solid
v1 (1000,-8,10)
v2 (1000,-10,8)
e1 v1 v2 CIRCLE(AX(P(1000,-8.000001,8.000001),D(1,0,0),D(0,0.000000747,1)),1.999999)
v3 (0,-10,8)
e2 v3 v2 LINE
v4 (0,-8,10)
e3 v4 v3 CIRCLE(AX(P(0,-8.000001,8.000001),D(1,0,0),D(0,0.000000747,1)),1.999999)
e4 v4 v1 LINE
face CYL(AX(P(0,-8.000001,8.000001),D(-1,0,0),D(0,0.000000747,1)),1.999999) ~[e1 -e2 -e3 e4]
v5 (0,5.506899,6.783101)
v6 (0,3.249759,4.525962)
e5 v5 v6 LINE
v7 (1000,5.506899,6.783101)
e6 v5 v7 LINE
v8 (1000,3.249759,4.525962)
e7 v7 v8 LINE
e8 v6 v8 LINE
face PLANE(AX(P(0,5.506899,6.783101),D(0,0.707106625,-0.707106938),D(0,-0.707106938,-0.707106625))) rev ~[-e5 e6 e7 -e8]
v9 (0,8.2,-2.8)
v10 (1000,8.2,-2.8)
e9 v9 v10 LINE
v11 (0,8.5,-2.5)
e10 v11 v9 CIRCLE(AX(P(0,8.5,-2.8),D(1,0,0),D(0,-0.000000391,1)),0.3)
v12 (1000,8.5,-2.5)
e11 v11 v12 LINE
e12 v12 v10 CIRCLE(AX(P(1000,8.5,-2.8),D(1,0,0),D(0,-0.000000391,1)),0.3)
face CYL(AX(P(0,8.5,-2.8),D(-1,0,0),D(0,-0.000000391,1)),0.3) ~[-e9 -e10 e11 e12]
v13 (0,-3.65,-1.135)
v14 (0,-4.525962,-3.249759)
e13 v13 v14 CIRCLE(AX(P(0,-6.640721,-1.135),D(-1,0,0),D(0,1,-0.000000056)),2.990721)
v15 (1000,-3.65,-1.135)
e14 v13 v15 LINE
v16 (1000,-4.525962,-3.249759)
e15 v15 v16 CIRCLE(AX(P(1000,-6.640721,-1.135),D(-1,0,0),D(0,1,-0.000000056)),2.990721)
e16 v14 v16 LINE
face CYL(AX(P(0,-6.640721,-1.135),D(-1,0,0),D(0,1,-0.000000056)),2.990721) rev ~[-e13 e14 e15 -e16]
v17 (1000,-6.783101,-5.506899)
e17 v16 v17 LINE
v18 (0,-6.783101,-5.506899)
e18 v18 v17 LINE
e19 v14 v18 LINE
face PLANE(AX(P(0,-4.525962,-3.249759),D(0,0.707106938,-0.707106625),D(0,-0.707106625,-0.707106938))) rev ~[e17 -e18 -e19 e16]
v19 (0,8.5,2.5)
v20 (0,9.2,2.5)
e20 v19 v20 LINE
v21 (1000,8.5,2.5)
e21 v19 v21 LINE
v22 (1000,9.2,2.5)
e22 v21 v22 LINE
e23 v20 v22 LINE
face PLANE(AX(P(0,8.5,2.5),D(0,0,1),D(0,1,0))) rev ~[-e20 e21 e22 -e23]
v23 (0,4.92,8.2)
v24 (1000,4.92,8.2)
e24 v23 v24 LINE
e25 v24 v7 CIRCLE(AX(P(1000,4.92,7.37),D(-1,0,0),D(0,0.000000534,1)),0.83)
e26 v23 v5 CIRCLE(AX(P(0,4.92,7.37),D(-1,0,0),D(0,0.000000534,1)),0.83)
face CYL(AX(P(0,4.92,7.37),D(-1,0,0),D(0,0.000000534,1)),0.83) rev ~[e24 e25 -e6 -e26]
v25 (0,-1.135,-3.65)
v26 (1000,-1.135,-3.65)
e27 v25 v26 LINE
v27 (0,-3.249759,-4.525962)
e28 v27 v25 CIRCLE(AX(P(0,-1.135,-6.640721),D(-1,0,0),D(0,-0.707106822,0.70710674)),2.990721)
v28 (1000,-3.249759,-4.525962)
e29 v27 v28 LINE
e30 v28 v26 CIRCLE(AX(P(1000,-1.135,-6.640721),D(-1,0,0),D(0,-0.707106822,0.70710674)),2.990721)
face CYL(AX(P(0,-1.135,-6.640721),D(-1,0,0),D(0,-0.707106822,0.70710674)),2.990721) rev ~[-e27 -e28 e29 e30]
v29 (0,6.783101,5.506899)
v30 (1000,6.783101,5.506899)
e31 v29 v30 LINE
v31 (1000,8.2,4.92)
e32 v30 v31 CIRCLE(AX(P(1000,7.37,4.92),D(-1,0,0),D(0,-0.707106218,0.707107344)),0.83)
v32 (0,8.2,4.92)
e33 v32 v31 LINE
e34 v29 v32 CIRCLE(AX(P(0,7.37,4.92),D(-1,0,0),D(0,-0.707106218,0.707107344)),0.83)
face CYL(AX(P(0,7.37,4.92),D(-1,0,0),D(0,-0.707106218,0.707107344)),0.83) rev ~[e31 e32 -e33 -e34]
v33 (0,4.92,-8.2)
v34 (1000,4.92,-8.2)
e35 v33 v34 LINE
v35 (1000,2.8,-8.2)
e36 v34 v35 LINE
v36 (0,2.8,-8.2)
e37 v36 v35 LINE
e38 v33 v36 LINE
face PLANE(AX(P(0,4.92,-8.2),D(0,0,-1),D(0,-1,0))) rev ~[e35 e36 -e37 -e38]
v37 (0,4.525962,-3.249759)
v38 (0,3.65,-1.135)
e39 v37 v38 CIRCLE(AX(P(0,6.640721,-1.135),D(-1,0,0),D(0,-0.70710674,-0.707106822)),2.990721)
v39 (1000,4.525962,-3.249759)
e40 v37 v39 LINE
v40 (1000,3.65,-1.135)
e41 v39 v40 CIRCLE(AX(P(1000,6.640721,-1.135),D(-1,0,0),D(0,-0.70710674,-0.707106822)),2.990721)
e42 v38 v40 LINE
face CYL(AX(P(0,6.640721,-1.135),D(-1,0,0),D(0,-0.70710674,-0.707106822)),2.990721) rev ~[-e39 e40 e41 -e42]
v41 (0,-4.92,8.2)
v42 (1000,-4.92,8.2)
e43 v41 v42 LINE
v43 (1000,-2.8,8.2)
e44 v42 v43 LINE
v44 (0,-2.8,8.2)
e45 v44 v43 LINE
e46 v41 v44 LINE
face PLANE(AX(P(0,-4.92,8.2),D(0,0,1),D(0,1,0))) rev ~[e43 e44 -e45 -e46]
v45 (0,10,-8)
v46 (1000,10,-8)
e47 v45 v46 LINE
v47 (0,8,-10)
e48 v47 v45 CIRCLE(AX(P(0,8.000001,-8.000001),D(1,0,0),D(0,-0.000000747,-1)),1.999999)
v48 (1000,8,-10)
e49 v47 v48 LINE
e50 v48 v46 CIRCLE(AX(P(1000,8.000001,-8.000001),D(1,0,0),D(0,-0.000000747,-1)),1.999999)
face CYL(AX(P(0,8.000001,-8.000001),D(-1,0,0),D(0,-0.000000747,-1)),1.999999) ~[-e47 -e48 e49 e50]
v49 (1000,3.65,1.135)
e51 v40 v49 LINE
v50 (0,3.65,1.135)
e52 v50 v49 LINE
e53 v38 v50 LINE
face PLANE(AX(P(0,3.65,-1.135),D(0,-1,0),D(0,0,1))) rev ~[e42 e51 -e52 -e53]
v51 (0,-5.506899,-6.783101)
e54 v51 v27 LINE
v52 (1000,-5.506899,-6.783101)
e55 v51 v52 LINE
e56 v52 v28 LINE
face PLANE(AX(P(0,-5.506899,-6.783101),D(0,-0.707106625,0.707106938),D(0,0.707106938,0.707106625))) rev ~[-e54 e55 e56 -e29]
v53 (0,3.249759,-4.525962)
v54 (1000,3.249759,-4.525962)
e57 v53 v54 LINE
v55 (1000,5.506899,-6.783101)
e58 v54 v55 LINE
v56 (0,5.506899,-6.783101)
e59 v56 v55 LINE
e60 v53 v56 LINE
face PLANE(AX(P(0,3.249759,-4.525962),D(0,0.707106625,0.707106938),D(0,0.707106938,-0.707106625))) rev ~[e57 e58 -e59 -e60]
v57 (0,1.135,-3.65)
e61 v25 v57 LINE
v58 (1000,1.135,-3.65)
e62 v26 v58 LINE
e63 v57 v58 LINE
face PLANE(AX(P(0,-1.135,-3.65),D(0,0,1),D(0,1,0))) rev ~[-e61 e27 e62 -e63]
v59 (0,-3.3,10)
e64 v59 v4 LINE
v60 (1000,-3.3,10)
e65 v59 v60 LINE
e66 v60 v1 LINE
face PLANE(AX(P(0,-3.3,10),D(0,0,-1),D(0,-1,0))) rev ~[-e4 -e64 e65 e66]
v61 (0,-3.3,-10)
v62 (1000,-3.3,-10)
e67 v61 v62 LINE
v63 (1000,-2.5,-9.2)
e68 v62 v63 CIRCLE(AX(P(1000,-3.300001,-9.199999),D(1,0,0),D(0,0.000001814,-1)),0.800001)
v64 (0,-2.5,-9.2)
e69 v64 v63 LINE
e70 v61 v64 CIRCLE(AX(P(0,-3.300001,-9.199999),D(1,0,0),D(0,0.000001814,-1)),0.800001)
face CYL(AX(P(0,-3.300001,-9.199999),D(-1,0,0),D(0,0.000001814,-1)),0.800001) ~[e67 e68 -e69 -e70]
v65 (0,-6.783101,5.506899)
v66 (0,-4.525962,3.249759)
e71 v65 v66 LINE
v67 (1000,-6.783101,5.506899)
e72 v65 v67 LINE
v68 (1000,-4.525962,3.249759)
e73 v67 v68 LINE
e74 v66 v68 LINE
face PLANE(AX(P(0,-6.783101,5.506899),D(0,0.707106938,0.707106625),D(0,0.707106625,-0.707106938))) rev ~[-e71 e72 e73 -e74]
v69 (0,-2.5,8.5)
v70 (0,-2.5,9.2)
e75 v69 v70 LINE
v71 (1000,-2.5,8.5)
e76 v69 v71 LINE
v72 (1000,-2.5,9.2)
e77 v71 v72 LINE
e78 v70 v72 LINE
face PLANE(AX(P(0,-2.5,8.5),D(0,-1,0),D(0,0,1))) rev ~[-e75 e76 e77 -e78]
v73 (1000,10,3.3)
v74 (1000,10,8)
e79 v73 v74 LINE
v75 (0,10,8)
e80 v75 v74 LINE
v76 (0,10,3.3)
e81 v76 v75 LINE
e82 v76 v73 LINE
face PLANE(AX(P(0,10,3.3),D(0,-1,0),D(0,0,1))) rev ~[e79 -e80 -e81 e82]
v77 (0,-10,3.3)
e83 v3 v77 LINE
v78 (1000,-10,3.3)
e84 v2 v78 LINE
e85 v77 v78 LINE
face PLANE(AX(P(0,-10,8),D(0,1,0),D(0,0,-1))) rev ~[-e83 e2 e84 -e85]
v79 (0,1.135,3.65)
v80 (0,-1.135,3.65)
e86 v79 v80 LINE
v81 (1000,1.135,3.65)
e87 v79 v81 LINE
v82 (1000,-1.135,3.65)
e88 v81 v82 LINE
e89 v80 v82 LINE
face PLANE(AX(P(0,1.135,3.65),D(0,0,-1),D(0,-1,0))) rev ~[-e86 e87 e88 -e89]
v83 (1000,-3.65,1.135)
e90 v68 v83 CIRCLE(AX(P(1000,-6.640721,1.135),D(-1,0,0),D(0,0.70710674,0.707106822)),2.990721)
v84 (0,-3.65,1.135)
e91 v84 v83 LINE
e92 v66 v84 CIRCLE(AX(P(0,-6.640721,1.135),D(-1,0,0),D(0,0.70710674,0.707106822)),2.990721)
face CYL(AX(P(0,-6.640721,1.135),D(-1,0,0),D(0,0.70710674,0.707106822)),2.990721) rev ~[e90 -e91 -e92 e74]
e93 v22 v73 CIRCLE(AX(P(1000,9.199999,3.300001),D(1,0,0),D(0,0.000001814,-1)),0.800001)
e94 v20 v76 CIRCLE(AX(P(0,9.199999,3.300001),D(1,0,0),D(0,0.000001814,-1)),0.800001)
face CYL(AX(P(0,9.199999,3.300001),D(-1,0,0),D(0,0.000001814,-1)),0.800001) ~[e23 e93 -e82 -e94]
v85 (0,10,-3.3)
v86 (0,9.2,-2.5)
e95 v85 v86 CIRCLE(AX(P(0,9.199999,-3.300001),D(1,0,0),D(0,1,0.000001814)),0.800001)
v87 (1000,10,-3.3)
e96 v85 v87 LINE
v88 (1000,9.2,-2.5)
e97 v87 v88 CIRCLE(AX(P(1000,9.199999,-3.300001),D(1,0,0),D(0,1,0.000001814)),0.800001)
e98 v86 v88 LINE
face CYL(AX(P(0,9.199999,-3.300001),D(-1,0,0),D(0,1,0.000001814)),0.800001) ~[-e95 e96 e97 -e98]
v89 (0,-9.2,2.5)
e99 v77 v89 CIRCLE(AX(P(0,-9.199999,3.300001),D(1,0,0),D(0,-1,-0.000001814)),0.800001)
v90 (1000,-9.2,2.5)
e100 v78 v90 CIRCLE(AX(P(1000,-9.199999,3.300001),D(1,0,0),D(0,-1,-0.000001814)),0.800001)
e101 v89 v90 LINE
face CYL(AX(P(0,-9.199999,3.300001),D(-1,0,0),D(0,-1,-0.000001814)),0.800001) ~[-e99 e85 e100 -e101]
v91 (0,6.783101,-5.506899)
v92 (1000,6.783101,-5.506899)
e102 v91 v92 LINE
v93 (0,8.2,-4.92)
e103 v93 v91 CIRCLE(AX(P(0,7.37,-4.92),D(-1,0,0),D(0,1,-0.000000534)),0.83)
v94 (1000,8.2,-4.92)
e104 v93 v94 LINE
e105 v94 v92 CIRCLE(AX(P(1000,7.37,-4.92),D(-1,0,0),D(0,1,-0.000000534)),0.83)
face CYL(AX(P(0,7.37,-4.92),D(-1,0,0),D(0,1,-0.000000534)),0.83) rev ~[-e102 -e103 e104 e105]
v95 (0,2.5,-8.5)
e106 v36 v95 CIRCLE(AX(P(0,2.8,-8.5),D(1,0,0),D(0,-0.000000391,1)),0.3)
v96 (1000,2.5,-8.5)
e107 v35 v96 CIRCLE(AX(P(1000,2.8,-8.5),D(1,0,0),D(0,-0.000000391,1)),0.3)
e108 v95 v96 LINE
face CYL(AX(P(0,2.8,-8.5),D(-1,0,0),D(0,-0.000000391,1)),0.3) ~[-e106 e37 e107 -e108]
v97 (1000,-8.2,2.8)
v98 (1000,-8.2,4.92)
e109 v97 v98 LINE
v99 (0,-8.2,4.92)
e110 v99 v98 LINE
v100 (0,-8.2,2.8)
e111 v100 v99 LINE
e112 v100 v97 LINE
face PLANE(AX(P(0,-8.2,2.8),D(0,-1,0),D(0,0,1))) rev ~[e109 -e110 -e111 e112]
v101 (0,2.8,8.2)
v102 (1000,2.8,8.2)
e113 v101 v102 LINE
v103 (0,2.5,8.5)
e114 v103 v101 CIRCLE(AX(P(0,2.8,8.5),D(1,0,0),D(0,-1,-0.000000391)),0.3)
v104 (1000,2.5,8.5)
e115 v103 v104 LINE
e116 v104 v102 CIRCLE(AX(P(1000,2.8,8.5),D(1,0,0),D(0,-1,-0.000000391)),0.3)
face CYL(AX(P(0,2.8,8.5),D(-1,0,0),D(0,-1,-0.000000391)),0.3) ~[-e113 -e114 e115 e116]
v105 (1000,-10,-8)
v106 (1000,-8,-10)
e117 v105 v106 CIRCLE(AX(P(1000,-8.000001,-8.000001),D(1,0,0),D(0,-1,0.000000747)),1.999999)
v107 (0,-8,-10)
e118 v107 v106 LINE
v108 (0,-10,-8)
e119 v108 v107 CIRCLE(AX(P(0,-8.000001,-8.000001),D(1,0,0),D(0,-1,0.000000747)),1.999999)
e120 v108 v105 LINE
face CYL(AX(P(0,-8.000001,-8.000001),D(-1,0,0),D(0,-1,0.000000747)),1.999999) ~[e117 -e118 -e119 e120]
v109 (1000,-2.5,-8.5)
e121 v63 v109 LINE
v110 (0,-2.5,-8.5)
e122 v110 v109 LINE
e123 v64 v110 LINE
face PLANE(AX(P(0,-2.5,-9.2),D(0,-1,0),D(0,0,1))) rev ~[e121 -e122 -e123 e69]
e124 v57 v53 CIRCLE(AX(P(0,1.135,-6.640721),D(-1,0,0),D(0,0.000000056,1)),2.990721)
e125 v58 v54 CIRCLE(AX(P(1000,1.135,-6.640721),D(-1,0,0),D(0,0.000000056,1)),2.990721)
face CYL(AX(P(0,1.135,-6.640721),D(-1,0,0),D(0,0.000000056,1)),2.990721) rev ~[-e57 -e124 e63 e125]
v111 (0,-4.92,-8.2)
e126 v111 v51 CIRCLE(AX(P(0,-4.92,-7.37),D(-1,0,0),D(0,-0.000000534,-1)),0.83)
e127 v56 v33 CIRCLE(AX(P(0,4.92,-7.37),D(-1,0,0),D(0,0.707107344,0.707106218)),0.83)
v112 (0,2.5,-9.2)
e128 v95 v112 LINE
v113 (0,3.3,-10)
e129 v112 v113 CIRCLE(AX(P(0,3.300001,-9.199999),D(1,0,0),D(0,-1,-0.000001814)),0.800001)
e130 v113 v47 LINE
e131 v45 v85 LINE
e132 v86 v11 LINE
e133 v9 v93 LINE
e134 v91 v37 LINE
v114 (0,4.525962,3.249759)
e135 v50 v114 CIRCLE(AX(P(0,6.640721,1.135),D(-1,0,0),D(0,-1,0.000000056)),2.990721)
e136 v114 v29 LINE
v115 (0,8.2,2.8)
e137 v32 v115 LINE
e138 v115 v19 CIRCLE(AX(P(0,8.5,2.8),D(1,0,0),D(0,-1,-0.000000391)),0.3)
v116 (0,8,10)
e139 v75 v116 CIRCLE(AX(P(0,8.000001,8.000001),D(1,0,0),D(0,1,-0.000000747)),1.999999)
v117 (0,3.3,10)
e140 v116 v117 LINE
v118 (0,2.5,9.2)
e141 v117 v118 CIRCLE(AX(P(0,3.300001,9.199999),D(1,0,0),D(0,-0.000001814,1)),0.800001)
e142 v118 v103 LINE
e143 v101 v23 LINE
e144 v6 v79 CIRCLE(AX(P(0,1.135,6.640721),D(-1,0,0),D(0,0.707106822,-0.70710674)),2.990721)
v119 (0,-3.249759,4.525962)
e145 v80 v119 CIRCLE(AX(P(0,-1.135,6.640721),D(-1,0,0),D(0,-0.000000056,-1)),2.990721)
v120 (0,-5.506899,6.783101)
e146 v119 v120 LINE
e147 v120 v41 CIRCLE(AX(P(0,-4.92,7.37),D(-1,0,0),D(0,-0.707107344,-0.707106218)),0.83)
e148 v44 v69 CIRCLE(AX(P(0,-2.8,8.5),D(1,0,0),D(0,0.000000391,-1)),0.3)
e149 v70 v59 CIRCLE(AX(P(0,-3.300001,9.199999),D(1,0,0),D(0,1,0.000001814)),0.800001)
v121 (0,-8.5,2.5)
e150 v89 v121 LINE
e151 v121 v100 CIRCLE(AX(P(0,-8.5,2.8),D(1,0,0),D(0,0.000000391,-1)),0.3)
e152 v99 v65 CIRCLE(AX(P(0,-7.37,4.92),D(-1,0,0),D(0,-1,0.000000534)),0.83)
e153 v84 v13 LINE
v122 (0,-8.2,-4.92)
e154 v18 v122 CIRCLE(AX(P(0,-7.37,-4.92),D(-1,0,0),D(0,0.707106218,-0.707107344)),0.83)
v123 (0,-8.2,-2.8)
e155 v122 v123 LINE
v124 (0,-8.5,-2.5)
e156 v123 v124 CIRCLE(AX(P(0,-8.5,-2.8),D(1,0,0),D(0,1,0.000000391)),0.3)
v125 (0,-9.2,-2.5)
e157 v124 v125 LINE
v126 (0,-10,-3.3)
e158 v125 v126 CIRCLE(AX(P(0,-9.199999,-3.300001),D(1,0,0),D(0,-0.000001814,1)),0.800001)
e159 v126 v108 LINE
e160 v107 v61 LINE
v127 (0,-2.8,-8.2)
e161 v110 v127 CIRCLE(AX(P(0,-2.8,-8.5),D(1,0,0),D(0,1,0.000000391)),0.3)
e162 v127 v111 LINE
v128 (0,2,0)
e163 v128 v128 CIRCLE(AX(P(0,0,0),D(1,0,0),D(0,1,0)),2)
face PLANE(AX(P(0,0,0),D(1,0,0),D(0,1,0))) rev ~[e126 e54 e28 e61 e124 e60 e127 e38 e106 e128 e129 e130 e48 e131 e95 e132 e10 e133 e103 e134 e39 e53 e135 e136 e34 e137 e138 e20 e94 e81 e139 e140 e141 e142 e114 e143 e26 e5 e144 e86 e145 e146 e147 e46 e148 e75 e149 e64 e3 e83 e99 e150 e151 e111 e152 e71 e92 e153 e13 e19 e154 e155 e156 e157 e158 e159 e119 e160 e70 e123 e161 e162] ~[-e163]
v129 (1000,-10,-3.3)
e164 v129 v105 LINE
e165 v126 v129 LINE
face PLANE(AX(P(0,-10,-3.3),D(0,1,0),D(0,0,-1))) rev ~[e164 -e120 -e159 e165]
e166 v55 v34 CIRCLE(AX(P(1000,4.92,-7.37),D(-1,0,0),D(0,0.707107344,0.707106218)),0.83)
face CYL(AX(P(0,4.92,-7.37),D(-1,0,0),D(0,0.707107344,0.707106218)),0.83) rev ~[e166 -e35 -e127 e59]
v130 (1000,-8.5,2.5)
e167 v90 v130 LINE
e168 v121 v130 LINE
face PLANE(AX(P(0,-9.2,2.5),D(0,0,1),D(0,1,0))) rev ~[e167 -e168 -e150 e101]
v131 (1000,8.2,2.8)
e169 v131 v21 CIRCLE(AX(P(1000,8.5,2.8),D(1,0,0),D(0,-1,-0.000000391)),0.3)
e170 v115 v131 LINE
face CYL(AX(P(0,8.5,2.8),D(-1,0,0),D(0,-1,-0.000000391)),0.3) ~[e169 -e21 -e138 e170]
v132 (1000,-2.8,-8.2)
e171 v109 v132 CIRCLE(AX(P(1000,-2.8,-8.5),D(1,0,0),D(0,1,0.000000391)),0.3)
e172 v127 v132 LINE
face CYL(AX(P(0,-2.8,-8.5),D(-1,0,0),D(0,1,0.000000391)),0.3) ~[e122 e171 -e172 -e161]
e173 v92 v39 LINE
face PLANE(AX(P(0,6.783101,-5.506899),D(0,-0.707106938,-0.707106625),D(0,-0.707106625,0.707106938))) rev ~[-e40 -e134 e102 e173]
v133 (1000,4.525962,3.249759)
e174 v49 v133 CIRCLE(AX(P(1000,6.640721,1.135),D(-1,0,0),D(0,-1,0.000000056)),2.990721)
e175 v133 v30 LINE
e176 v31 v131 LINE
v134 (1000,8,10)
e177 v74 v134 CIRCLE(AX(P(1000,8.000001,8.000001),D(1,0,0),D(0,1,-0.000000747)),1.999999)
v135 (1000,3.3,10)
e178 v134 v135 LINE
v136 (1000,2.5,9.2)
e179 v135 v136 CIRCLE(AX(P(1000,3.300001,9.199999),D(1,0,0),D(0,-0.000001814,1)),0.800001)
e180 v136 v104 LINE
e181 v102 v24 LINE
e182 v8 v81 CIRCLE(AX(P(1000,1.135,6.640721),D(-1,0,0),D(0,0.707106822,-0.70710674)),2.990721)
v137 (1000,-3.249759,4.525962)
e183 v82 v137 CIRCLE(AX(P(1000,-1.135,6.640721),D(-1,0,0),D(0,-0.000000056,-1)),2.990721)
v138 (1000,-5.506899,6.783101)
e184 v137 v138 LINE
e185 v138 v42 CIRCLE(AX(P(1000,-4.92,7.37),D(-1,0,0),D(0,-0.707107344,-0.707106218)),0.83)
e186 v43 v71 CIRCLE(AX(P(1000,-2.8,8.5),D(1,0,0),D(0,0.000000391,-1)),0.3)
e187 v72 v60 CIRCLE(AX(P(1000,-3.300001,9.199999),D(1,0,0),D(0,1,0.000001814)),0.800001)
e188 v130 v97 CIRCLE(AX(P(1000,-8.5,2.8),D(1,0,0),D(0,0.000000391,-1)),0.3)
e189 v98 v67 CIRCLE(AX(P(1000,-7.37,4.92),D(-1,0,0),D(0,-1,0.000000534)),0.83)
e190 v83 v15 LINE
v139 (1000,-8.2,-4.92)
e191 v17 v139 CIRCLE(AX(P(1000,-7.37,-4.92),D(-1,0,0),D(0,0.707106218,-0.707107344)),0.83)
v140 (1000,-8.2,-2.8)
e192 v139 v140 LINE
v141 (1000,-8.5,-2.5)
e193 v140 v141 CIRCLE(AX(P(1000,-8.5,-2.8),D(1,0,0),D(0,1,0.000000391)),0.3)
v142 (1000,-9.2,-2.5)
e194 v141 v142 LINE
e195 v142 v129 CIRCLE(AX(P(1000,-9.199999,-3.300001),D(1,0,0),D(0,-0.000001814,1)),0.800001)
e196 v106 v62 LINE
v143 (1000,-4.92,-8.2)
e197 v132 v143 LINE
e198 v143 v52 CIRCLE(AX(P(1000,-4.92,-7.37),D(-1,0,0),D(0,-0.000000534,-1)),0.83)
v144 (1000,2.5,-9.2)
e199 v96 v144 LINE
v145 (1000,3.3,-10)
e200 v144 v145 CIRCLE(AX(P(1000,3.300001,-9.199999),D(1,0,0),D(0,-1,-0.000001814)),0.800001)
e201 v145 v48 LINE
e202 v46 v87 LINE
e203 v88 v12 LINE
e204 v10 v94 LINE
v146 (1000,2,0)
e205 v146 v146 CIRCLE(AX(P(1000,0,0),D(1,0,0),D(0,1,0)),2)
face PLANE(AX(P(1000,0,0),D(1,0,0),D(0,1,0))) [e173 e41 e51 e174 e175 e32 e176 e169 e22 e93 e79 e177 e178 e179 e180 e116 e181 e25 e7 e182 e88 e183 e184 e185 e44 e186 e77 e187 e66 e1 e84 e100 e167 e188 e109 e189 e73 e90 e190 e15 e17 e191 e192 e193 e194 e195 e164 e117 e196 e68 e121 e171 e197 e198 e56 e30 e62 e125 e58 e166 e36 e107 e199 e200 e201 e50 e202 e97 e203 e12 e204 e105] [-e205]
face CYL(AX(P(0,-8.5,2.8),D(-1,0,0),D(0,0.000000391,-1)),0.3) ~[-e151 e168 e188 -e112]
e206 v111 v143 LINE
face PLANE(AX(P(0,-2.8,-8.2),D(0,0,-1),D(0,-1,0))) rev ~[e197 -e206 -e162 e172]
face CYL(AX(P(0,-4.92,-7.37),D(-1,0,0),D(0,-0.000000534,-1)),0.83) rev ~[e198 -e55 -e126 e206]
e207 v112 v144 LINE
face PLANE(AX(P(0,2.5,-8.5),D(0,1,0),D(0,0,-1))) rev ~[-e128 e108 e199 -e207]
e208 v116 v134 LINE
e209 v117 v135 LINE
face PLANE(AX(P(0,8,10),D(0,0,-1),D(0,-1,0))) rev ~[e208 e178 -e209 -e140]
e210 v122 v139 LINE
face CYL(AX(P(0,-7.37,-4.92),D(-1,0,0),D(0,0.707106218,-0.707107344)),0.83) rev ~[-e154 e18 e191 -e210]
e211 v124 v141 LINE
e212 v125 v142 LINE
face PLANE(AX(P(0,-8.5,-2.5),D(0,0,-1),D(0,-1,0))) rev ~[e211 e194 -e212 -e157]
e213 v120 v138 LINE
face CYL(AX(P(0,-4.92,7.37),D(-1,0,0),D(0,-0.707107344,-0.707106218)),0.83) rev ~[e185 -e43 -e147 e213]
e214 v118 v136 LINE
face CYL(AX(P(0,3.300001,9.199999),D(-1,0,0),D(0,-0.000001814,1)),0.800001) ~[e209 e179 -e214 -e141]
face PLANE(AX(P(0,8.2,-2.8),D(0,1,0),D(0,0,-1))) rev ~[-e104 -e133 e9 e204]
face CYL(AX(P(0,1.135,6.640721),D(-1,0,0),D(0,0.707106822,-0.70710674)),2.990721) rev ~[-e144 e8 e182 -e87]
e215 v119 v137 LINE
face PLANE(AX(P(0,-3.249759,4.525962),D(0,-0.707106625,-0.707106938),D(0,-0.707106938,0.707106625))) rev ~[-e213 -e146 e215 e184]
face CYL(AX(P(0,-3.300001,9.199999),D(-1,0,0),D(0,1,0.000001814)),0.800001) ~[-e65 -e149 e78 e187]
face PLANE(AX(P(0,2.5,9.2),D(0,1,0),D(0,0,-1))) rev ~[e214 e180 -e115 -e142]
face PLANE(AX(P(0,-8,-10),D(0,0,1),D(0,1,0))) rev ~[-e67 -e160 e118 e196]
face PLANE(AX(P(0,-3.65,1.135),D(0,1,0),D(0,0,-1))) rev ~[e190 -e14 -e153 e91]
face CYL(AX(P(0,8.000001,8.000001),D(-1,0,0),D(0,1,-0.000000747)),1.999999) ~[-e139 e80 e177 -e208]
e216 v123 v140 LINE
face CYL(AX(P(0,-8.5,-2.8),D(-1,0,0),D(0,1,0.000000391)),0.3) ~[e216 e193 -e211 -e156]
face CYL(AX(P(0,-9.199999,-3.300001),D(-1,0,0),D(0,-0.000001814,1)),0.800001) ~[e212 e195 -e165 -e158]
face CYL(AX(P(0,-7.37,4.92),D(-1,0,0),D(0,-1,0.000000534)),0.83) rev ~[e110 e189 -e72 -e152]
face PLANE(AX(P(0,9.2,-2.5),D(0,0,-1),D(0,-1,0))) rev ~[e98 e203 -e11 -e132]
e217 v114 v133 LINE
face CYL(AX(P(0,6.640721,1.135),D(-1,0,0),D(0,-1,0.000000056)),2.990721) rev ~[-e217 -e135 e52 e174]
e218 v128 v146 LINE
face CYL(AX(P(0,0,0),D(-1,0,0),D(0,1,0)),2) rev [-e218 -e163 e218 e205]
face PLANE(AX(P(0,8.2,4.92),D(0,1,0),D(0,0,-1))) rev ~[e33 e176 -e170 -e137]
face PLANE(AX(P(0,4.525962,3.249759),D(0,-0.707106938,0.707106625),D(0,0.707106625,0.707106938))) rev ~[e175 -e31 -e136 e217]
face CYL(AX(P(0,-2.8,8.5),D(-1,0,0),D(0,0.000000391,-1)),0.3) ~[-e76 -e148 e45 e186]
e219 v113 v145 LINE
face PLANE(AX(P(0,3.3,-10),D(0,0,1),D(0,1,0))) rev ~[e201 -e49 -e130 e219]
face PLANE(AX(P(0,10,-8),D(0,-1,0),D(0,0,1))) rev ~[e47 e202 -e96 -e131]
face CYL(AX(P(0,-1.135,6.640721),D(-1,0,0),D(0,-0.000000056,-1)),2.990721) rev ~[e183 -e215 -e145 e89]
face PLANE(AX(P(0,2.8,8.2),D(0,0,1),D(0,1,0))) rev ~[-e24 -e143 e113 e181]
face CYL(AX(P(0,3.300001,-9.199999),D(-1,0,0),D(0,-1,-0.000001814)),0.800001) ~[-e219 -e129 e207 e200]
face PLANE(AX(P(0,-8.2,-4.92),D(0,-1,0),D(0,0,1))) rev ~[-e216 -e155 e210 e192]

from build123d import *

# Parameters (mm, degrees)
F0_R     = 2
F1_DEPTH = 1000


with BuildPart() as f1:
    # F0 (on Right) → F1 (new body)
    with BuildSketch(Plane.YZ):
        with BuildLine():
            Line((-3.3, 10), (-8, 10))
            ThreePointArc((-8, 10), (-9.414214, 9.414214), (-10, 8))
            Line((-10, 8), (-10, 3.3))
            ThreePointArc((-10, 3.3), (-9.765685, 2.734315), (-9.2, 2.5))
            Line((-9.2, 2.5), (-8.5, 2.5))
            ThreePointArc((-8.5, 2.5), (-8.287868, 2.587868), (-8.2, 2.8))
            Line((-8.2, 2.8), (-8.2, 4.92))
            ThreePointArc((-8.2, 4.92), (-7.687627, 5.68682), (-6.783101, 5.506899))
            Line((-6.783101, 5.506899), (-4.525962, 3.249759))
            ThreePointArc((-4.525962, 3.249759), (-3.877655, 2.279499), (-3.65, 1.135))
            Line((-3.65, 1.135), (-3.65, -1.135))
            ThreePointArc((-3.65, -1.135), (-3.877655, -2.279499), (-4.525962, -3.249759))
            Line((-4.525962, -3.249759), (-6.783101, -5.506899))
            ThreePointArc((-6.783101, -5.506899), (-7.687627, -5.68682), (-8.2, -4.92))
            Line((-8.2, -4.92), (-8.2, -2.8))
            ThreePointArc((-8.2, -2.8), (-8.287868, -2.587868), (-8.5, -2.5))
            Line((-8.5, -2.5), (-9.2, -2.5))
            ThreePointArc((-9.2, -2.5), (-9.765685, -2.734315), (-10, -3.3))
            Line((-10, -3.3), (-10, -8))
            ThreePointArc((-10, -8), (-9.414214, -9.414214), (-8, -10))
            Line((-8, -10), (-3.3, -10))
            ThreePointArc((-3.3, -10), (-2.734315, -9.765685), (-2.5, -9.2))
            Line((-2.5, -9.2), (-2.5, -8.5))
            ThreePointArc((-2.5, -8.5), (-2.587868, -8.287868), (-2.8, -8.2))
            Line((-2.8, -8.2), (-4.92, -8.2))
            ThreePointArc((-4.92, -8.2), (-5.68682, -7.687627), (-5.506899, -6.783101))
            Line((-5.506899, -6.783101), (-3.249759, -4.525962))
            ThreePointArc((-3.249759, -4.525962), (-2.279499, -3.877655), (-1.135, -3.65))
            Line((-1.135, -3.65), (1.135, -3.65))
            ThreePointArc((1.135, -3.65), (2.279499, -3.877655), (3.249759, -4.525962))
            Line((3.249759, -4.525962), (5.506899, -6.783101))
            ThreePointArc((5.506899, -6.783101), (5.68682, -7.687627), (4.92, -8.2))
            Line((4.92, -8.2), (2.8, -8.2))
            ThreePointArc((2.8, -8.2), (2.587868, -8.287868), (2.5, -8.5))
            Line((2.5, -8.5), (2.5, -9.2))
            ThreePointArc((2.5, -9.2), (2.734315, -9.765685), (3.3, -10))
            Line((3.3, -10), (8, -10))
            ThreePointArc((8, -10), (9.414214, -9.414214), (10, -8))
            Line((10, -8), (10, -3.3))
            ThreePointArc((10, -3.3), (9.765685, -2.734315), (9.2, -2.5))
            Line((9.2, -2.5), (8.5, -2.5))
            ThreePointArc((8.5, -2.5), (8.287868, -2.587868), (8.2, -2.8))
            Line((8.2, -2.8), (8.2, -4.92))
            ThreePointArc((8.2, -4.92), (7.687627, -5.68682), (6.783101, -5.506899))
            Line((6.783101, -5.506899), (4.525962, -3.249759))
            ThreePointArc((4.525962, -3.249759), (3.877655, -2.279499), (3.65, -1.135))
            Line((3.65, -1.135), (3.65, 1.135))
            ThreePointArc((3.65, 1.135), (3.877655, 2.279499), (4.525962, 3.249759))
            Line((4.525962, 3.249759), (6.783101, 5.506899))
            ThreePointArc((6.783101, 5.506899), (7.687627, 5.68682), (8.2, 4.92))
            Line((8.2, 4.92), (8.2, 2.8))
            ThreePointArc((8.2, 2.8), (8.287868, 2.587868), (8.5, 2.5))
            Line((8.5, 2.5), (9.2, 2.5))
            ThreePointArc((9.2, 2.5), (9.765685, 2.734315), (10, 3.3))
            Line((10, 3.3), (10, 8))
            ThreePointArc((10, 8), (9.414214, 9.414214), (8, 10))
            Line((8, 10), (3.3, 10))
            ThreePointArc((3.3, 10), (2.734315, 9.765685), (2.5, 9.2))
            Line((2.5, 9.2), (2.5, 8.5))
            ThreePointArc((2.5, 8.5), (2.587868, 8.287868), (2.8, 8.2))
            Line((2.8, 8.2), (4.92, 8.2))
            ThreePointArc((4.92, 8.2), (5.68682, 7.687627), (5.506899, 6.783101))
            Line((5.506899, 6.783101), (3.249759, 4.525962))
            ThreePointArc((3.249759, 4.525962), (2.279499, 3.877655), (1.135, 3.65))
            Line((1.135, 3.65), (-1.135, 3.65))
            ThreePointArc((-1.135, 3.65), (-2.279499, 3.877655), (-3.249759, 4.525962))
            Line((-3.249759, 4.525962), (-5.506899, 6.783101))
            ThreePointArc((-5.506899, 6.783101), (-5.68682, 7.687627), (-4.92, 8.2))
            Line((-4.92, 8.2), (-2.8, 8.2))
            ThreePointArc((-2.8, 8.2), (-2.587868, 8.287868), (-2.5, 8.5))
            Line((-2.5, 8.5), (-2.5, 9.2))
            ThreePointArc((-2.5, 9.2), (-2.734315, 9.765685), (-3.3, 10))
        make_face()
        Circle(F0_R, mode=Mode.SUBTRACT)
    extrude(amount=F1_DEPTH)


solid = f1.part
